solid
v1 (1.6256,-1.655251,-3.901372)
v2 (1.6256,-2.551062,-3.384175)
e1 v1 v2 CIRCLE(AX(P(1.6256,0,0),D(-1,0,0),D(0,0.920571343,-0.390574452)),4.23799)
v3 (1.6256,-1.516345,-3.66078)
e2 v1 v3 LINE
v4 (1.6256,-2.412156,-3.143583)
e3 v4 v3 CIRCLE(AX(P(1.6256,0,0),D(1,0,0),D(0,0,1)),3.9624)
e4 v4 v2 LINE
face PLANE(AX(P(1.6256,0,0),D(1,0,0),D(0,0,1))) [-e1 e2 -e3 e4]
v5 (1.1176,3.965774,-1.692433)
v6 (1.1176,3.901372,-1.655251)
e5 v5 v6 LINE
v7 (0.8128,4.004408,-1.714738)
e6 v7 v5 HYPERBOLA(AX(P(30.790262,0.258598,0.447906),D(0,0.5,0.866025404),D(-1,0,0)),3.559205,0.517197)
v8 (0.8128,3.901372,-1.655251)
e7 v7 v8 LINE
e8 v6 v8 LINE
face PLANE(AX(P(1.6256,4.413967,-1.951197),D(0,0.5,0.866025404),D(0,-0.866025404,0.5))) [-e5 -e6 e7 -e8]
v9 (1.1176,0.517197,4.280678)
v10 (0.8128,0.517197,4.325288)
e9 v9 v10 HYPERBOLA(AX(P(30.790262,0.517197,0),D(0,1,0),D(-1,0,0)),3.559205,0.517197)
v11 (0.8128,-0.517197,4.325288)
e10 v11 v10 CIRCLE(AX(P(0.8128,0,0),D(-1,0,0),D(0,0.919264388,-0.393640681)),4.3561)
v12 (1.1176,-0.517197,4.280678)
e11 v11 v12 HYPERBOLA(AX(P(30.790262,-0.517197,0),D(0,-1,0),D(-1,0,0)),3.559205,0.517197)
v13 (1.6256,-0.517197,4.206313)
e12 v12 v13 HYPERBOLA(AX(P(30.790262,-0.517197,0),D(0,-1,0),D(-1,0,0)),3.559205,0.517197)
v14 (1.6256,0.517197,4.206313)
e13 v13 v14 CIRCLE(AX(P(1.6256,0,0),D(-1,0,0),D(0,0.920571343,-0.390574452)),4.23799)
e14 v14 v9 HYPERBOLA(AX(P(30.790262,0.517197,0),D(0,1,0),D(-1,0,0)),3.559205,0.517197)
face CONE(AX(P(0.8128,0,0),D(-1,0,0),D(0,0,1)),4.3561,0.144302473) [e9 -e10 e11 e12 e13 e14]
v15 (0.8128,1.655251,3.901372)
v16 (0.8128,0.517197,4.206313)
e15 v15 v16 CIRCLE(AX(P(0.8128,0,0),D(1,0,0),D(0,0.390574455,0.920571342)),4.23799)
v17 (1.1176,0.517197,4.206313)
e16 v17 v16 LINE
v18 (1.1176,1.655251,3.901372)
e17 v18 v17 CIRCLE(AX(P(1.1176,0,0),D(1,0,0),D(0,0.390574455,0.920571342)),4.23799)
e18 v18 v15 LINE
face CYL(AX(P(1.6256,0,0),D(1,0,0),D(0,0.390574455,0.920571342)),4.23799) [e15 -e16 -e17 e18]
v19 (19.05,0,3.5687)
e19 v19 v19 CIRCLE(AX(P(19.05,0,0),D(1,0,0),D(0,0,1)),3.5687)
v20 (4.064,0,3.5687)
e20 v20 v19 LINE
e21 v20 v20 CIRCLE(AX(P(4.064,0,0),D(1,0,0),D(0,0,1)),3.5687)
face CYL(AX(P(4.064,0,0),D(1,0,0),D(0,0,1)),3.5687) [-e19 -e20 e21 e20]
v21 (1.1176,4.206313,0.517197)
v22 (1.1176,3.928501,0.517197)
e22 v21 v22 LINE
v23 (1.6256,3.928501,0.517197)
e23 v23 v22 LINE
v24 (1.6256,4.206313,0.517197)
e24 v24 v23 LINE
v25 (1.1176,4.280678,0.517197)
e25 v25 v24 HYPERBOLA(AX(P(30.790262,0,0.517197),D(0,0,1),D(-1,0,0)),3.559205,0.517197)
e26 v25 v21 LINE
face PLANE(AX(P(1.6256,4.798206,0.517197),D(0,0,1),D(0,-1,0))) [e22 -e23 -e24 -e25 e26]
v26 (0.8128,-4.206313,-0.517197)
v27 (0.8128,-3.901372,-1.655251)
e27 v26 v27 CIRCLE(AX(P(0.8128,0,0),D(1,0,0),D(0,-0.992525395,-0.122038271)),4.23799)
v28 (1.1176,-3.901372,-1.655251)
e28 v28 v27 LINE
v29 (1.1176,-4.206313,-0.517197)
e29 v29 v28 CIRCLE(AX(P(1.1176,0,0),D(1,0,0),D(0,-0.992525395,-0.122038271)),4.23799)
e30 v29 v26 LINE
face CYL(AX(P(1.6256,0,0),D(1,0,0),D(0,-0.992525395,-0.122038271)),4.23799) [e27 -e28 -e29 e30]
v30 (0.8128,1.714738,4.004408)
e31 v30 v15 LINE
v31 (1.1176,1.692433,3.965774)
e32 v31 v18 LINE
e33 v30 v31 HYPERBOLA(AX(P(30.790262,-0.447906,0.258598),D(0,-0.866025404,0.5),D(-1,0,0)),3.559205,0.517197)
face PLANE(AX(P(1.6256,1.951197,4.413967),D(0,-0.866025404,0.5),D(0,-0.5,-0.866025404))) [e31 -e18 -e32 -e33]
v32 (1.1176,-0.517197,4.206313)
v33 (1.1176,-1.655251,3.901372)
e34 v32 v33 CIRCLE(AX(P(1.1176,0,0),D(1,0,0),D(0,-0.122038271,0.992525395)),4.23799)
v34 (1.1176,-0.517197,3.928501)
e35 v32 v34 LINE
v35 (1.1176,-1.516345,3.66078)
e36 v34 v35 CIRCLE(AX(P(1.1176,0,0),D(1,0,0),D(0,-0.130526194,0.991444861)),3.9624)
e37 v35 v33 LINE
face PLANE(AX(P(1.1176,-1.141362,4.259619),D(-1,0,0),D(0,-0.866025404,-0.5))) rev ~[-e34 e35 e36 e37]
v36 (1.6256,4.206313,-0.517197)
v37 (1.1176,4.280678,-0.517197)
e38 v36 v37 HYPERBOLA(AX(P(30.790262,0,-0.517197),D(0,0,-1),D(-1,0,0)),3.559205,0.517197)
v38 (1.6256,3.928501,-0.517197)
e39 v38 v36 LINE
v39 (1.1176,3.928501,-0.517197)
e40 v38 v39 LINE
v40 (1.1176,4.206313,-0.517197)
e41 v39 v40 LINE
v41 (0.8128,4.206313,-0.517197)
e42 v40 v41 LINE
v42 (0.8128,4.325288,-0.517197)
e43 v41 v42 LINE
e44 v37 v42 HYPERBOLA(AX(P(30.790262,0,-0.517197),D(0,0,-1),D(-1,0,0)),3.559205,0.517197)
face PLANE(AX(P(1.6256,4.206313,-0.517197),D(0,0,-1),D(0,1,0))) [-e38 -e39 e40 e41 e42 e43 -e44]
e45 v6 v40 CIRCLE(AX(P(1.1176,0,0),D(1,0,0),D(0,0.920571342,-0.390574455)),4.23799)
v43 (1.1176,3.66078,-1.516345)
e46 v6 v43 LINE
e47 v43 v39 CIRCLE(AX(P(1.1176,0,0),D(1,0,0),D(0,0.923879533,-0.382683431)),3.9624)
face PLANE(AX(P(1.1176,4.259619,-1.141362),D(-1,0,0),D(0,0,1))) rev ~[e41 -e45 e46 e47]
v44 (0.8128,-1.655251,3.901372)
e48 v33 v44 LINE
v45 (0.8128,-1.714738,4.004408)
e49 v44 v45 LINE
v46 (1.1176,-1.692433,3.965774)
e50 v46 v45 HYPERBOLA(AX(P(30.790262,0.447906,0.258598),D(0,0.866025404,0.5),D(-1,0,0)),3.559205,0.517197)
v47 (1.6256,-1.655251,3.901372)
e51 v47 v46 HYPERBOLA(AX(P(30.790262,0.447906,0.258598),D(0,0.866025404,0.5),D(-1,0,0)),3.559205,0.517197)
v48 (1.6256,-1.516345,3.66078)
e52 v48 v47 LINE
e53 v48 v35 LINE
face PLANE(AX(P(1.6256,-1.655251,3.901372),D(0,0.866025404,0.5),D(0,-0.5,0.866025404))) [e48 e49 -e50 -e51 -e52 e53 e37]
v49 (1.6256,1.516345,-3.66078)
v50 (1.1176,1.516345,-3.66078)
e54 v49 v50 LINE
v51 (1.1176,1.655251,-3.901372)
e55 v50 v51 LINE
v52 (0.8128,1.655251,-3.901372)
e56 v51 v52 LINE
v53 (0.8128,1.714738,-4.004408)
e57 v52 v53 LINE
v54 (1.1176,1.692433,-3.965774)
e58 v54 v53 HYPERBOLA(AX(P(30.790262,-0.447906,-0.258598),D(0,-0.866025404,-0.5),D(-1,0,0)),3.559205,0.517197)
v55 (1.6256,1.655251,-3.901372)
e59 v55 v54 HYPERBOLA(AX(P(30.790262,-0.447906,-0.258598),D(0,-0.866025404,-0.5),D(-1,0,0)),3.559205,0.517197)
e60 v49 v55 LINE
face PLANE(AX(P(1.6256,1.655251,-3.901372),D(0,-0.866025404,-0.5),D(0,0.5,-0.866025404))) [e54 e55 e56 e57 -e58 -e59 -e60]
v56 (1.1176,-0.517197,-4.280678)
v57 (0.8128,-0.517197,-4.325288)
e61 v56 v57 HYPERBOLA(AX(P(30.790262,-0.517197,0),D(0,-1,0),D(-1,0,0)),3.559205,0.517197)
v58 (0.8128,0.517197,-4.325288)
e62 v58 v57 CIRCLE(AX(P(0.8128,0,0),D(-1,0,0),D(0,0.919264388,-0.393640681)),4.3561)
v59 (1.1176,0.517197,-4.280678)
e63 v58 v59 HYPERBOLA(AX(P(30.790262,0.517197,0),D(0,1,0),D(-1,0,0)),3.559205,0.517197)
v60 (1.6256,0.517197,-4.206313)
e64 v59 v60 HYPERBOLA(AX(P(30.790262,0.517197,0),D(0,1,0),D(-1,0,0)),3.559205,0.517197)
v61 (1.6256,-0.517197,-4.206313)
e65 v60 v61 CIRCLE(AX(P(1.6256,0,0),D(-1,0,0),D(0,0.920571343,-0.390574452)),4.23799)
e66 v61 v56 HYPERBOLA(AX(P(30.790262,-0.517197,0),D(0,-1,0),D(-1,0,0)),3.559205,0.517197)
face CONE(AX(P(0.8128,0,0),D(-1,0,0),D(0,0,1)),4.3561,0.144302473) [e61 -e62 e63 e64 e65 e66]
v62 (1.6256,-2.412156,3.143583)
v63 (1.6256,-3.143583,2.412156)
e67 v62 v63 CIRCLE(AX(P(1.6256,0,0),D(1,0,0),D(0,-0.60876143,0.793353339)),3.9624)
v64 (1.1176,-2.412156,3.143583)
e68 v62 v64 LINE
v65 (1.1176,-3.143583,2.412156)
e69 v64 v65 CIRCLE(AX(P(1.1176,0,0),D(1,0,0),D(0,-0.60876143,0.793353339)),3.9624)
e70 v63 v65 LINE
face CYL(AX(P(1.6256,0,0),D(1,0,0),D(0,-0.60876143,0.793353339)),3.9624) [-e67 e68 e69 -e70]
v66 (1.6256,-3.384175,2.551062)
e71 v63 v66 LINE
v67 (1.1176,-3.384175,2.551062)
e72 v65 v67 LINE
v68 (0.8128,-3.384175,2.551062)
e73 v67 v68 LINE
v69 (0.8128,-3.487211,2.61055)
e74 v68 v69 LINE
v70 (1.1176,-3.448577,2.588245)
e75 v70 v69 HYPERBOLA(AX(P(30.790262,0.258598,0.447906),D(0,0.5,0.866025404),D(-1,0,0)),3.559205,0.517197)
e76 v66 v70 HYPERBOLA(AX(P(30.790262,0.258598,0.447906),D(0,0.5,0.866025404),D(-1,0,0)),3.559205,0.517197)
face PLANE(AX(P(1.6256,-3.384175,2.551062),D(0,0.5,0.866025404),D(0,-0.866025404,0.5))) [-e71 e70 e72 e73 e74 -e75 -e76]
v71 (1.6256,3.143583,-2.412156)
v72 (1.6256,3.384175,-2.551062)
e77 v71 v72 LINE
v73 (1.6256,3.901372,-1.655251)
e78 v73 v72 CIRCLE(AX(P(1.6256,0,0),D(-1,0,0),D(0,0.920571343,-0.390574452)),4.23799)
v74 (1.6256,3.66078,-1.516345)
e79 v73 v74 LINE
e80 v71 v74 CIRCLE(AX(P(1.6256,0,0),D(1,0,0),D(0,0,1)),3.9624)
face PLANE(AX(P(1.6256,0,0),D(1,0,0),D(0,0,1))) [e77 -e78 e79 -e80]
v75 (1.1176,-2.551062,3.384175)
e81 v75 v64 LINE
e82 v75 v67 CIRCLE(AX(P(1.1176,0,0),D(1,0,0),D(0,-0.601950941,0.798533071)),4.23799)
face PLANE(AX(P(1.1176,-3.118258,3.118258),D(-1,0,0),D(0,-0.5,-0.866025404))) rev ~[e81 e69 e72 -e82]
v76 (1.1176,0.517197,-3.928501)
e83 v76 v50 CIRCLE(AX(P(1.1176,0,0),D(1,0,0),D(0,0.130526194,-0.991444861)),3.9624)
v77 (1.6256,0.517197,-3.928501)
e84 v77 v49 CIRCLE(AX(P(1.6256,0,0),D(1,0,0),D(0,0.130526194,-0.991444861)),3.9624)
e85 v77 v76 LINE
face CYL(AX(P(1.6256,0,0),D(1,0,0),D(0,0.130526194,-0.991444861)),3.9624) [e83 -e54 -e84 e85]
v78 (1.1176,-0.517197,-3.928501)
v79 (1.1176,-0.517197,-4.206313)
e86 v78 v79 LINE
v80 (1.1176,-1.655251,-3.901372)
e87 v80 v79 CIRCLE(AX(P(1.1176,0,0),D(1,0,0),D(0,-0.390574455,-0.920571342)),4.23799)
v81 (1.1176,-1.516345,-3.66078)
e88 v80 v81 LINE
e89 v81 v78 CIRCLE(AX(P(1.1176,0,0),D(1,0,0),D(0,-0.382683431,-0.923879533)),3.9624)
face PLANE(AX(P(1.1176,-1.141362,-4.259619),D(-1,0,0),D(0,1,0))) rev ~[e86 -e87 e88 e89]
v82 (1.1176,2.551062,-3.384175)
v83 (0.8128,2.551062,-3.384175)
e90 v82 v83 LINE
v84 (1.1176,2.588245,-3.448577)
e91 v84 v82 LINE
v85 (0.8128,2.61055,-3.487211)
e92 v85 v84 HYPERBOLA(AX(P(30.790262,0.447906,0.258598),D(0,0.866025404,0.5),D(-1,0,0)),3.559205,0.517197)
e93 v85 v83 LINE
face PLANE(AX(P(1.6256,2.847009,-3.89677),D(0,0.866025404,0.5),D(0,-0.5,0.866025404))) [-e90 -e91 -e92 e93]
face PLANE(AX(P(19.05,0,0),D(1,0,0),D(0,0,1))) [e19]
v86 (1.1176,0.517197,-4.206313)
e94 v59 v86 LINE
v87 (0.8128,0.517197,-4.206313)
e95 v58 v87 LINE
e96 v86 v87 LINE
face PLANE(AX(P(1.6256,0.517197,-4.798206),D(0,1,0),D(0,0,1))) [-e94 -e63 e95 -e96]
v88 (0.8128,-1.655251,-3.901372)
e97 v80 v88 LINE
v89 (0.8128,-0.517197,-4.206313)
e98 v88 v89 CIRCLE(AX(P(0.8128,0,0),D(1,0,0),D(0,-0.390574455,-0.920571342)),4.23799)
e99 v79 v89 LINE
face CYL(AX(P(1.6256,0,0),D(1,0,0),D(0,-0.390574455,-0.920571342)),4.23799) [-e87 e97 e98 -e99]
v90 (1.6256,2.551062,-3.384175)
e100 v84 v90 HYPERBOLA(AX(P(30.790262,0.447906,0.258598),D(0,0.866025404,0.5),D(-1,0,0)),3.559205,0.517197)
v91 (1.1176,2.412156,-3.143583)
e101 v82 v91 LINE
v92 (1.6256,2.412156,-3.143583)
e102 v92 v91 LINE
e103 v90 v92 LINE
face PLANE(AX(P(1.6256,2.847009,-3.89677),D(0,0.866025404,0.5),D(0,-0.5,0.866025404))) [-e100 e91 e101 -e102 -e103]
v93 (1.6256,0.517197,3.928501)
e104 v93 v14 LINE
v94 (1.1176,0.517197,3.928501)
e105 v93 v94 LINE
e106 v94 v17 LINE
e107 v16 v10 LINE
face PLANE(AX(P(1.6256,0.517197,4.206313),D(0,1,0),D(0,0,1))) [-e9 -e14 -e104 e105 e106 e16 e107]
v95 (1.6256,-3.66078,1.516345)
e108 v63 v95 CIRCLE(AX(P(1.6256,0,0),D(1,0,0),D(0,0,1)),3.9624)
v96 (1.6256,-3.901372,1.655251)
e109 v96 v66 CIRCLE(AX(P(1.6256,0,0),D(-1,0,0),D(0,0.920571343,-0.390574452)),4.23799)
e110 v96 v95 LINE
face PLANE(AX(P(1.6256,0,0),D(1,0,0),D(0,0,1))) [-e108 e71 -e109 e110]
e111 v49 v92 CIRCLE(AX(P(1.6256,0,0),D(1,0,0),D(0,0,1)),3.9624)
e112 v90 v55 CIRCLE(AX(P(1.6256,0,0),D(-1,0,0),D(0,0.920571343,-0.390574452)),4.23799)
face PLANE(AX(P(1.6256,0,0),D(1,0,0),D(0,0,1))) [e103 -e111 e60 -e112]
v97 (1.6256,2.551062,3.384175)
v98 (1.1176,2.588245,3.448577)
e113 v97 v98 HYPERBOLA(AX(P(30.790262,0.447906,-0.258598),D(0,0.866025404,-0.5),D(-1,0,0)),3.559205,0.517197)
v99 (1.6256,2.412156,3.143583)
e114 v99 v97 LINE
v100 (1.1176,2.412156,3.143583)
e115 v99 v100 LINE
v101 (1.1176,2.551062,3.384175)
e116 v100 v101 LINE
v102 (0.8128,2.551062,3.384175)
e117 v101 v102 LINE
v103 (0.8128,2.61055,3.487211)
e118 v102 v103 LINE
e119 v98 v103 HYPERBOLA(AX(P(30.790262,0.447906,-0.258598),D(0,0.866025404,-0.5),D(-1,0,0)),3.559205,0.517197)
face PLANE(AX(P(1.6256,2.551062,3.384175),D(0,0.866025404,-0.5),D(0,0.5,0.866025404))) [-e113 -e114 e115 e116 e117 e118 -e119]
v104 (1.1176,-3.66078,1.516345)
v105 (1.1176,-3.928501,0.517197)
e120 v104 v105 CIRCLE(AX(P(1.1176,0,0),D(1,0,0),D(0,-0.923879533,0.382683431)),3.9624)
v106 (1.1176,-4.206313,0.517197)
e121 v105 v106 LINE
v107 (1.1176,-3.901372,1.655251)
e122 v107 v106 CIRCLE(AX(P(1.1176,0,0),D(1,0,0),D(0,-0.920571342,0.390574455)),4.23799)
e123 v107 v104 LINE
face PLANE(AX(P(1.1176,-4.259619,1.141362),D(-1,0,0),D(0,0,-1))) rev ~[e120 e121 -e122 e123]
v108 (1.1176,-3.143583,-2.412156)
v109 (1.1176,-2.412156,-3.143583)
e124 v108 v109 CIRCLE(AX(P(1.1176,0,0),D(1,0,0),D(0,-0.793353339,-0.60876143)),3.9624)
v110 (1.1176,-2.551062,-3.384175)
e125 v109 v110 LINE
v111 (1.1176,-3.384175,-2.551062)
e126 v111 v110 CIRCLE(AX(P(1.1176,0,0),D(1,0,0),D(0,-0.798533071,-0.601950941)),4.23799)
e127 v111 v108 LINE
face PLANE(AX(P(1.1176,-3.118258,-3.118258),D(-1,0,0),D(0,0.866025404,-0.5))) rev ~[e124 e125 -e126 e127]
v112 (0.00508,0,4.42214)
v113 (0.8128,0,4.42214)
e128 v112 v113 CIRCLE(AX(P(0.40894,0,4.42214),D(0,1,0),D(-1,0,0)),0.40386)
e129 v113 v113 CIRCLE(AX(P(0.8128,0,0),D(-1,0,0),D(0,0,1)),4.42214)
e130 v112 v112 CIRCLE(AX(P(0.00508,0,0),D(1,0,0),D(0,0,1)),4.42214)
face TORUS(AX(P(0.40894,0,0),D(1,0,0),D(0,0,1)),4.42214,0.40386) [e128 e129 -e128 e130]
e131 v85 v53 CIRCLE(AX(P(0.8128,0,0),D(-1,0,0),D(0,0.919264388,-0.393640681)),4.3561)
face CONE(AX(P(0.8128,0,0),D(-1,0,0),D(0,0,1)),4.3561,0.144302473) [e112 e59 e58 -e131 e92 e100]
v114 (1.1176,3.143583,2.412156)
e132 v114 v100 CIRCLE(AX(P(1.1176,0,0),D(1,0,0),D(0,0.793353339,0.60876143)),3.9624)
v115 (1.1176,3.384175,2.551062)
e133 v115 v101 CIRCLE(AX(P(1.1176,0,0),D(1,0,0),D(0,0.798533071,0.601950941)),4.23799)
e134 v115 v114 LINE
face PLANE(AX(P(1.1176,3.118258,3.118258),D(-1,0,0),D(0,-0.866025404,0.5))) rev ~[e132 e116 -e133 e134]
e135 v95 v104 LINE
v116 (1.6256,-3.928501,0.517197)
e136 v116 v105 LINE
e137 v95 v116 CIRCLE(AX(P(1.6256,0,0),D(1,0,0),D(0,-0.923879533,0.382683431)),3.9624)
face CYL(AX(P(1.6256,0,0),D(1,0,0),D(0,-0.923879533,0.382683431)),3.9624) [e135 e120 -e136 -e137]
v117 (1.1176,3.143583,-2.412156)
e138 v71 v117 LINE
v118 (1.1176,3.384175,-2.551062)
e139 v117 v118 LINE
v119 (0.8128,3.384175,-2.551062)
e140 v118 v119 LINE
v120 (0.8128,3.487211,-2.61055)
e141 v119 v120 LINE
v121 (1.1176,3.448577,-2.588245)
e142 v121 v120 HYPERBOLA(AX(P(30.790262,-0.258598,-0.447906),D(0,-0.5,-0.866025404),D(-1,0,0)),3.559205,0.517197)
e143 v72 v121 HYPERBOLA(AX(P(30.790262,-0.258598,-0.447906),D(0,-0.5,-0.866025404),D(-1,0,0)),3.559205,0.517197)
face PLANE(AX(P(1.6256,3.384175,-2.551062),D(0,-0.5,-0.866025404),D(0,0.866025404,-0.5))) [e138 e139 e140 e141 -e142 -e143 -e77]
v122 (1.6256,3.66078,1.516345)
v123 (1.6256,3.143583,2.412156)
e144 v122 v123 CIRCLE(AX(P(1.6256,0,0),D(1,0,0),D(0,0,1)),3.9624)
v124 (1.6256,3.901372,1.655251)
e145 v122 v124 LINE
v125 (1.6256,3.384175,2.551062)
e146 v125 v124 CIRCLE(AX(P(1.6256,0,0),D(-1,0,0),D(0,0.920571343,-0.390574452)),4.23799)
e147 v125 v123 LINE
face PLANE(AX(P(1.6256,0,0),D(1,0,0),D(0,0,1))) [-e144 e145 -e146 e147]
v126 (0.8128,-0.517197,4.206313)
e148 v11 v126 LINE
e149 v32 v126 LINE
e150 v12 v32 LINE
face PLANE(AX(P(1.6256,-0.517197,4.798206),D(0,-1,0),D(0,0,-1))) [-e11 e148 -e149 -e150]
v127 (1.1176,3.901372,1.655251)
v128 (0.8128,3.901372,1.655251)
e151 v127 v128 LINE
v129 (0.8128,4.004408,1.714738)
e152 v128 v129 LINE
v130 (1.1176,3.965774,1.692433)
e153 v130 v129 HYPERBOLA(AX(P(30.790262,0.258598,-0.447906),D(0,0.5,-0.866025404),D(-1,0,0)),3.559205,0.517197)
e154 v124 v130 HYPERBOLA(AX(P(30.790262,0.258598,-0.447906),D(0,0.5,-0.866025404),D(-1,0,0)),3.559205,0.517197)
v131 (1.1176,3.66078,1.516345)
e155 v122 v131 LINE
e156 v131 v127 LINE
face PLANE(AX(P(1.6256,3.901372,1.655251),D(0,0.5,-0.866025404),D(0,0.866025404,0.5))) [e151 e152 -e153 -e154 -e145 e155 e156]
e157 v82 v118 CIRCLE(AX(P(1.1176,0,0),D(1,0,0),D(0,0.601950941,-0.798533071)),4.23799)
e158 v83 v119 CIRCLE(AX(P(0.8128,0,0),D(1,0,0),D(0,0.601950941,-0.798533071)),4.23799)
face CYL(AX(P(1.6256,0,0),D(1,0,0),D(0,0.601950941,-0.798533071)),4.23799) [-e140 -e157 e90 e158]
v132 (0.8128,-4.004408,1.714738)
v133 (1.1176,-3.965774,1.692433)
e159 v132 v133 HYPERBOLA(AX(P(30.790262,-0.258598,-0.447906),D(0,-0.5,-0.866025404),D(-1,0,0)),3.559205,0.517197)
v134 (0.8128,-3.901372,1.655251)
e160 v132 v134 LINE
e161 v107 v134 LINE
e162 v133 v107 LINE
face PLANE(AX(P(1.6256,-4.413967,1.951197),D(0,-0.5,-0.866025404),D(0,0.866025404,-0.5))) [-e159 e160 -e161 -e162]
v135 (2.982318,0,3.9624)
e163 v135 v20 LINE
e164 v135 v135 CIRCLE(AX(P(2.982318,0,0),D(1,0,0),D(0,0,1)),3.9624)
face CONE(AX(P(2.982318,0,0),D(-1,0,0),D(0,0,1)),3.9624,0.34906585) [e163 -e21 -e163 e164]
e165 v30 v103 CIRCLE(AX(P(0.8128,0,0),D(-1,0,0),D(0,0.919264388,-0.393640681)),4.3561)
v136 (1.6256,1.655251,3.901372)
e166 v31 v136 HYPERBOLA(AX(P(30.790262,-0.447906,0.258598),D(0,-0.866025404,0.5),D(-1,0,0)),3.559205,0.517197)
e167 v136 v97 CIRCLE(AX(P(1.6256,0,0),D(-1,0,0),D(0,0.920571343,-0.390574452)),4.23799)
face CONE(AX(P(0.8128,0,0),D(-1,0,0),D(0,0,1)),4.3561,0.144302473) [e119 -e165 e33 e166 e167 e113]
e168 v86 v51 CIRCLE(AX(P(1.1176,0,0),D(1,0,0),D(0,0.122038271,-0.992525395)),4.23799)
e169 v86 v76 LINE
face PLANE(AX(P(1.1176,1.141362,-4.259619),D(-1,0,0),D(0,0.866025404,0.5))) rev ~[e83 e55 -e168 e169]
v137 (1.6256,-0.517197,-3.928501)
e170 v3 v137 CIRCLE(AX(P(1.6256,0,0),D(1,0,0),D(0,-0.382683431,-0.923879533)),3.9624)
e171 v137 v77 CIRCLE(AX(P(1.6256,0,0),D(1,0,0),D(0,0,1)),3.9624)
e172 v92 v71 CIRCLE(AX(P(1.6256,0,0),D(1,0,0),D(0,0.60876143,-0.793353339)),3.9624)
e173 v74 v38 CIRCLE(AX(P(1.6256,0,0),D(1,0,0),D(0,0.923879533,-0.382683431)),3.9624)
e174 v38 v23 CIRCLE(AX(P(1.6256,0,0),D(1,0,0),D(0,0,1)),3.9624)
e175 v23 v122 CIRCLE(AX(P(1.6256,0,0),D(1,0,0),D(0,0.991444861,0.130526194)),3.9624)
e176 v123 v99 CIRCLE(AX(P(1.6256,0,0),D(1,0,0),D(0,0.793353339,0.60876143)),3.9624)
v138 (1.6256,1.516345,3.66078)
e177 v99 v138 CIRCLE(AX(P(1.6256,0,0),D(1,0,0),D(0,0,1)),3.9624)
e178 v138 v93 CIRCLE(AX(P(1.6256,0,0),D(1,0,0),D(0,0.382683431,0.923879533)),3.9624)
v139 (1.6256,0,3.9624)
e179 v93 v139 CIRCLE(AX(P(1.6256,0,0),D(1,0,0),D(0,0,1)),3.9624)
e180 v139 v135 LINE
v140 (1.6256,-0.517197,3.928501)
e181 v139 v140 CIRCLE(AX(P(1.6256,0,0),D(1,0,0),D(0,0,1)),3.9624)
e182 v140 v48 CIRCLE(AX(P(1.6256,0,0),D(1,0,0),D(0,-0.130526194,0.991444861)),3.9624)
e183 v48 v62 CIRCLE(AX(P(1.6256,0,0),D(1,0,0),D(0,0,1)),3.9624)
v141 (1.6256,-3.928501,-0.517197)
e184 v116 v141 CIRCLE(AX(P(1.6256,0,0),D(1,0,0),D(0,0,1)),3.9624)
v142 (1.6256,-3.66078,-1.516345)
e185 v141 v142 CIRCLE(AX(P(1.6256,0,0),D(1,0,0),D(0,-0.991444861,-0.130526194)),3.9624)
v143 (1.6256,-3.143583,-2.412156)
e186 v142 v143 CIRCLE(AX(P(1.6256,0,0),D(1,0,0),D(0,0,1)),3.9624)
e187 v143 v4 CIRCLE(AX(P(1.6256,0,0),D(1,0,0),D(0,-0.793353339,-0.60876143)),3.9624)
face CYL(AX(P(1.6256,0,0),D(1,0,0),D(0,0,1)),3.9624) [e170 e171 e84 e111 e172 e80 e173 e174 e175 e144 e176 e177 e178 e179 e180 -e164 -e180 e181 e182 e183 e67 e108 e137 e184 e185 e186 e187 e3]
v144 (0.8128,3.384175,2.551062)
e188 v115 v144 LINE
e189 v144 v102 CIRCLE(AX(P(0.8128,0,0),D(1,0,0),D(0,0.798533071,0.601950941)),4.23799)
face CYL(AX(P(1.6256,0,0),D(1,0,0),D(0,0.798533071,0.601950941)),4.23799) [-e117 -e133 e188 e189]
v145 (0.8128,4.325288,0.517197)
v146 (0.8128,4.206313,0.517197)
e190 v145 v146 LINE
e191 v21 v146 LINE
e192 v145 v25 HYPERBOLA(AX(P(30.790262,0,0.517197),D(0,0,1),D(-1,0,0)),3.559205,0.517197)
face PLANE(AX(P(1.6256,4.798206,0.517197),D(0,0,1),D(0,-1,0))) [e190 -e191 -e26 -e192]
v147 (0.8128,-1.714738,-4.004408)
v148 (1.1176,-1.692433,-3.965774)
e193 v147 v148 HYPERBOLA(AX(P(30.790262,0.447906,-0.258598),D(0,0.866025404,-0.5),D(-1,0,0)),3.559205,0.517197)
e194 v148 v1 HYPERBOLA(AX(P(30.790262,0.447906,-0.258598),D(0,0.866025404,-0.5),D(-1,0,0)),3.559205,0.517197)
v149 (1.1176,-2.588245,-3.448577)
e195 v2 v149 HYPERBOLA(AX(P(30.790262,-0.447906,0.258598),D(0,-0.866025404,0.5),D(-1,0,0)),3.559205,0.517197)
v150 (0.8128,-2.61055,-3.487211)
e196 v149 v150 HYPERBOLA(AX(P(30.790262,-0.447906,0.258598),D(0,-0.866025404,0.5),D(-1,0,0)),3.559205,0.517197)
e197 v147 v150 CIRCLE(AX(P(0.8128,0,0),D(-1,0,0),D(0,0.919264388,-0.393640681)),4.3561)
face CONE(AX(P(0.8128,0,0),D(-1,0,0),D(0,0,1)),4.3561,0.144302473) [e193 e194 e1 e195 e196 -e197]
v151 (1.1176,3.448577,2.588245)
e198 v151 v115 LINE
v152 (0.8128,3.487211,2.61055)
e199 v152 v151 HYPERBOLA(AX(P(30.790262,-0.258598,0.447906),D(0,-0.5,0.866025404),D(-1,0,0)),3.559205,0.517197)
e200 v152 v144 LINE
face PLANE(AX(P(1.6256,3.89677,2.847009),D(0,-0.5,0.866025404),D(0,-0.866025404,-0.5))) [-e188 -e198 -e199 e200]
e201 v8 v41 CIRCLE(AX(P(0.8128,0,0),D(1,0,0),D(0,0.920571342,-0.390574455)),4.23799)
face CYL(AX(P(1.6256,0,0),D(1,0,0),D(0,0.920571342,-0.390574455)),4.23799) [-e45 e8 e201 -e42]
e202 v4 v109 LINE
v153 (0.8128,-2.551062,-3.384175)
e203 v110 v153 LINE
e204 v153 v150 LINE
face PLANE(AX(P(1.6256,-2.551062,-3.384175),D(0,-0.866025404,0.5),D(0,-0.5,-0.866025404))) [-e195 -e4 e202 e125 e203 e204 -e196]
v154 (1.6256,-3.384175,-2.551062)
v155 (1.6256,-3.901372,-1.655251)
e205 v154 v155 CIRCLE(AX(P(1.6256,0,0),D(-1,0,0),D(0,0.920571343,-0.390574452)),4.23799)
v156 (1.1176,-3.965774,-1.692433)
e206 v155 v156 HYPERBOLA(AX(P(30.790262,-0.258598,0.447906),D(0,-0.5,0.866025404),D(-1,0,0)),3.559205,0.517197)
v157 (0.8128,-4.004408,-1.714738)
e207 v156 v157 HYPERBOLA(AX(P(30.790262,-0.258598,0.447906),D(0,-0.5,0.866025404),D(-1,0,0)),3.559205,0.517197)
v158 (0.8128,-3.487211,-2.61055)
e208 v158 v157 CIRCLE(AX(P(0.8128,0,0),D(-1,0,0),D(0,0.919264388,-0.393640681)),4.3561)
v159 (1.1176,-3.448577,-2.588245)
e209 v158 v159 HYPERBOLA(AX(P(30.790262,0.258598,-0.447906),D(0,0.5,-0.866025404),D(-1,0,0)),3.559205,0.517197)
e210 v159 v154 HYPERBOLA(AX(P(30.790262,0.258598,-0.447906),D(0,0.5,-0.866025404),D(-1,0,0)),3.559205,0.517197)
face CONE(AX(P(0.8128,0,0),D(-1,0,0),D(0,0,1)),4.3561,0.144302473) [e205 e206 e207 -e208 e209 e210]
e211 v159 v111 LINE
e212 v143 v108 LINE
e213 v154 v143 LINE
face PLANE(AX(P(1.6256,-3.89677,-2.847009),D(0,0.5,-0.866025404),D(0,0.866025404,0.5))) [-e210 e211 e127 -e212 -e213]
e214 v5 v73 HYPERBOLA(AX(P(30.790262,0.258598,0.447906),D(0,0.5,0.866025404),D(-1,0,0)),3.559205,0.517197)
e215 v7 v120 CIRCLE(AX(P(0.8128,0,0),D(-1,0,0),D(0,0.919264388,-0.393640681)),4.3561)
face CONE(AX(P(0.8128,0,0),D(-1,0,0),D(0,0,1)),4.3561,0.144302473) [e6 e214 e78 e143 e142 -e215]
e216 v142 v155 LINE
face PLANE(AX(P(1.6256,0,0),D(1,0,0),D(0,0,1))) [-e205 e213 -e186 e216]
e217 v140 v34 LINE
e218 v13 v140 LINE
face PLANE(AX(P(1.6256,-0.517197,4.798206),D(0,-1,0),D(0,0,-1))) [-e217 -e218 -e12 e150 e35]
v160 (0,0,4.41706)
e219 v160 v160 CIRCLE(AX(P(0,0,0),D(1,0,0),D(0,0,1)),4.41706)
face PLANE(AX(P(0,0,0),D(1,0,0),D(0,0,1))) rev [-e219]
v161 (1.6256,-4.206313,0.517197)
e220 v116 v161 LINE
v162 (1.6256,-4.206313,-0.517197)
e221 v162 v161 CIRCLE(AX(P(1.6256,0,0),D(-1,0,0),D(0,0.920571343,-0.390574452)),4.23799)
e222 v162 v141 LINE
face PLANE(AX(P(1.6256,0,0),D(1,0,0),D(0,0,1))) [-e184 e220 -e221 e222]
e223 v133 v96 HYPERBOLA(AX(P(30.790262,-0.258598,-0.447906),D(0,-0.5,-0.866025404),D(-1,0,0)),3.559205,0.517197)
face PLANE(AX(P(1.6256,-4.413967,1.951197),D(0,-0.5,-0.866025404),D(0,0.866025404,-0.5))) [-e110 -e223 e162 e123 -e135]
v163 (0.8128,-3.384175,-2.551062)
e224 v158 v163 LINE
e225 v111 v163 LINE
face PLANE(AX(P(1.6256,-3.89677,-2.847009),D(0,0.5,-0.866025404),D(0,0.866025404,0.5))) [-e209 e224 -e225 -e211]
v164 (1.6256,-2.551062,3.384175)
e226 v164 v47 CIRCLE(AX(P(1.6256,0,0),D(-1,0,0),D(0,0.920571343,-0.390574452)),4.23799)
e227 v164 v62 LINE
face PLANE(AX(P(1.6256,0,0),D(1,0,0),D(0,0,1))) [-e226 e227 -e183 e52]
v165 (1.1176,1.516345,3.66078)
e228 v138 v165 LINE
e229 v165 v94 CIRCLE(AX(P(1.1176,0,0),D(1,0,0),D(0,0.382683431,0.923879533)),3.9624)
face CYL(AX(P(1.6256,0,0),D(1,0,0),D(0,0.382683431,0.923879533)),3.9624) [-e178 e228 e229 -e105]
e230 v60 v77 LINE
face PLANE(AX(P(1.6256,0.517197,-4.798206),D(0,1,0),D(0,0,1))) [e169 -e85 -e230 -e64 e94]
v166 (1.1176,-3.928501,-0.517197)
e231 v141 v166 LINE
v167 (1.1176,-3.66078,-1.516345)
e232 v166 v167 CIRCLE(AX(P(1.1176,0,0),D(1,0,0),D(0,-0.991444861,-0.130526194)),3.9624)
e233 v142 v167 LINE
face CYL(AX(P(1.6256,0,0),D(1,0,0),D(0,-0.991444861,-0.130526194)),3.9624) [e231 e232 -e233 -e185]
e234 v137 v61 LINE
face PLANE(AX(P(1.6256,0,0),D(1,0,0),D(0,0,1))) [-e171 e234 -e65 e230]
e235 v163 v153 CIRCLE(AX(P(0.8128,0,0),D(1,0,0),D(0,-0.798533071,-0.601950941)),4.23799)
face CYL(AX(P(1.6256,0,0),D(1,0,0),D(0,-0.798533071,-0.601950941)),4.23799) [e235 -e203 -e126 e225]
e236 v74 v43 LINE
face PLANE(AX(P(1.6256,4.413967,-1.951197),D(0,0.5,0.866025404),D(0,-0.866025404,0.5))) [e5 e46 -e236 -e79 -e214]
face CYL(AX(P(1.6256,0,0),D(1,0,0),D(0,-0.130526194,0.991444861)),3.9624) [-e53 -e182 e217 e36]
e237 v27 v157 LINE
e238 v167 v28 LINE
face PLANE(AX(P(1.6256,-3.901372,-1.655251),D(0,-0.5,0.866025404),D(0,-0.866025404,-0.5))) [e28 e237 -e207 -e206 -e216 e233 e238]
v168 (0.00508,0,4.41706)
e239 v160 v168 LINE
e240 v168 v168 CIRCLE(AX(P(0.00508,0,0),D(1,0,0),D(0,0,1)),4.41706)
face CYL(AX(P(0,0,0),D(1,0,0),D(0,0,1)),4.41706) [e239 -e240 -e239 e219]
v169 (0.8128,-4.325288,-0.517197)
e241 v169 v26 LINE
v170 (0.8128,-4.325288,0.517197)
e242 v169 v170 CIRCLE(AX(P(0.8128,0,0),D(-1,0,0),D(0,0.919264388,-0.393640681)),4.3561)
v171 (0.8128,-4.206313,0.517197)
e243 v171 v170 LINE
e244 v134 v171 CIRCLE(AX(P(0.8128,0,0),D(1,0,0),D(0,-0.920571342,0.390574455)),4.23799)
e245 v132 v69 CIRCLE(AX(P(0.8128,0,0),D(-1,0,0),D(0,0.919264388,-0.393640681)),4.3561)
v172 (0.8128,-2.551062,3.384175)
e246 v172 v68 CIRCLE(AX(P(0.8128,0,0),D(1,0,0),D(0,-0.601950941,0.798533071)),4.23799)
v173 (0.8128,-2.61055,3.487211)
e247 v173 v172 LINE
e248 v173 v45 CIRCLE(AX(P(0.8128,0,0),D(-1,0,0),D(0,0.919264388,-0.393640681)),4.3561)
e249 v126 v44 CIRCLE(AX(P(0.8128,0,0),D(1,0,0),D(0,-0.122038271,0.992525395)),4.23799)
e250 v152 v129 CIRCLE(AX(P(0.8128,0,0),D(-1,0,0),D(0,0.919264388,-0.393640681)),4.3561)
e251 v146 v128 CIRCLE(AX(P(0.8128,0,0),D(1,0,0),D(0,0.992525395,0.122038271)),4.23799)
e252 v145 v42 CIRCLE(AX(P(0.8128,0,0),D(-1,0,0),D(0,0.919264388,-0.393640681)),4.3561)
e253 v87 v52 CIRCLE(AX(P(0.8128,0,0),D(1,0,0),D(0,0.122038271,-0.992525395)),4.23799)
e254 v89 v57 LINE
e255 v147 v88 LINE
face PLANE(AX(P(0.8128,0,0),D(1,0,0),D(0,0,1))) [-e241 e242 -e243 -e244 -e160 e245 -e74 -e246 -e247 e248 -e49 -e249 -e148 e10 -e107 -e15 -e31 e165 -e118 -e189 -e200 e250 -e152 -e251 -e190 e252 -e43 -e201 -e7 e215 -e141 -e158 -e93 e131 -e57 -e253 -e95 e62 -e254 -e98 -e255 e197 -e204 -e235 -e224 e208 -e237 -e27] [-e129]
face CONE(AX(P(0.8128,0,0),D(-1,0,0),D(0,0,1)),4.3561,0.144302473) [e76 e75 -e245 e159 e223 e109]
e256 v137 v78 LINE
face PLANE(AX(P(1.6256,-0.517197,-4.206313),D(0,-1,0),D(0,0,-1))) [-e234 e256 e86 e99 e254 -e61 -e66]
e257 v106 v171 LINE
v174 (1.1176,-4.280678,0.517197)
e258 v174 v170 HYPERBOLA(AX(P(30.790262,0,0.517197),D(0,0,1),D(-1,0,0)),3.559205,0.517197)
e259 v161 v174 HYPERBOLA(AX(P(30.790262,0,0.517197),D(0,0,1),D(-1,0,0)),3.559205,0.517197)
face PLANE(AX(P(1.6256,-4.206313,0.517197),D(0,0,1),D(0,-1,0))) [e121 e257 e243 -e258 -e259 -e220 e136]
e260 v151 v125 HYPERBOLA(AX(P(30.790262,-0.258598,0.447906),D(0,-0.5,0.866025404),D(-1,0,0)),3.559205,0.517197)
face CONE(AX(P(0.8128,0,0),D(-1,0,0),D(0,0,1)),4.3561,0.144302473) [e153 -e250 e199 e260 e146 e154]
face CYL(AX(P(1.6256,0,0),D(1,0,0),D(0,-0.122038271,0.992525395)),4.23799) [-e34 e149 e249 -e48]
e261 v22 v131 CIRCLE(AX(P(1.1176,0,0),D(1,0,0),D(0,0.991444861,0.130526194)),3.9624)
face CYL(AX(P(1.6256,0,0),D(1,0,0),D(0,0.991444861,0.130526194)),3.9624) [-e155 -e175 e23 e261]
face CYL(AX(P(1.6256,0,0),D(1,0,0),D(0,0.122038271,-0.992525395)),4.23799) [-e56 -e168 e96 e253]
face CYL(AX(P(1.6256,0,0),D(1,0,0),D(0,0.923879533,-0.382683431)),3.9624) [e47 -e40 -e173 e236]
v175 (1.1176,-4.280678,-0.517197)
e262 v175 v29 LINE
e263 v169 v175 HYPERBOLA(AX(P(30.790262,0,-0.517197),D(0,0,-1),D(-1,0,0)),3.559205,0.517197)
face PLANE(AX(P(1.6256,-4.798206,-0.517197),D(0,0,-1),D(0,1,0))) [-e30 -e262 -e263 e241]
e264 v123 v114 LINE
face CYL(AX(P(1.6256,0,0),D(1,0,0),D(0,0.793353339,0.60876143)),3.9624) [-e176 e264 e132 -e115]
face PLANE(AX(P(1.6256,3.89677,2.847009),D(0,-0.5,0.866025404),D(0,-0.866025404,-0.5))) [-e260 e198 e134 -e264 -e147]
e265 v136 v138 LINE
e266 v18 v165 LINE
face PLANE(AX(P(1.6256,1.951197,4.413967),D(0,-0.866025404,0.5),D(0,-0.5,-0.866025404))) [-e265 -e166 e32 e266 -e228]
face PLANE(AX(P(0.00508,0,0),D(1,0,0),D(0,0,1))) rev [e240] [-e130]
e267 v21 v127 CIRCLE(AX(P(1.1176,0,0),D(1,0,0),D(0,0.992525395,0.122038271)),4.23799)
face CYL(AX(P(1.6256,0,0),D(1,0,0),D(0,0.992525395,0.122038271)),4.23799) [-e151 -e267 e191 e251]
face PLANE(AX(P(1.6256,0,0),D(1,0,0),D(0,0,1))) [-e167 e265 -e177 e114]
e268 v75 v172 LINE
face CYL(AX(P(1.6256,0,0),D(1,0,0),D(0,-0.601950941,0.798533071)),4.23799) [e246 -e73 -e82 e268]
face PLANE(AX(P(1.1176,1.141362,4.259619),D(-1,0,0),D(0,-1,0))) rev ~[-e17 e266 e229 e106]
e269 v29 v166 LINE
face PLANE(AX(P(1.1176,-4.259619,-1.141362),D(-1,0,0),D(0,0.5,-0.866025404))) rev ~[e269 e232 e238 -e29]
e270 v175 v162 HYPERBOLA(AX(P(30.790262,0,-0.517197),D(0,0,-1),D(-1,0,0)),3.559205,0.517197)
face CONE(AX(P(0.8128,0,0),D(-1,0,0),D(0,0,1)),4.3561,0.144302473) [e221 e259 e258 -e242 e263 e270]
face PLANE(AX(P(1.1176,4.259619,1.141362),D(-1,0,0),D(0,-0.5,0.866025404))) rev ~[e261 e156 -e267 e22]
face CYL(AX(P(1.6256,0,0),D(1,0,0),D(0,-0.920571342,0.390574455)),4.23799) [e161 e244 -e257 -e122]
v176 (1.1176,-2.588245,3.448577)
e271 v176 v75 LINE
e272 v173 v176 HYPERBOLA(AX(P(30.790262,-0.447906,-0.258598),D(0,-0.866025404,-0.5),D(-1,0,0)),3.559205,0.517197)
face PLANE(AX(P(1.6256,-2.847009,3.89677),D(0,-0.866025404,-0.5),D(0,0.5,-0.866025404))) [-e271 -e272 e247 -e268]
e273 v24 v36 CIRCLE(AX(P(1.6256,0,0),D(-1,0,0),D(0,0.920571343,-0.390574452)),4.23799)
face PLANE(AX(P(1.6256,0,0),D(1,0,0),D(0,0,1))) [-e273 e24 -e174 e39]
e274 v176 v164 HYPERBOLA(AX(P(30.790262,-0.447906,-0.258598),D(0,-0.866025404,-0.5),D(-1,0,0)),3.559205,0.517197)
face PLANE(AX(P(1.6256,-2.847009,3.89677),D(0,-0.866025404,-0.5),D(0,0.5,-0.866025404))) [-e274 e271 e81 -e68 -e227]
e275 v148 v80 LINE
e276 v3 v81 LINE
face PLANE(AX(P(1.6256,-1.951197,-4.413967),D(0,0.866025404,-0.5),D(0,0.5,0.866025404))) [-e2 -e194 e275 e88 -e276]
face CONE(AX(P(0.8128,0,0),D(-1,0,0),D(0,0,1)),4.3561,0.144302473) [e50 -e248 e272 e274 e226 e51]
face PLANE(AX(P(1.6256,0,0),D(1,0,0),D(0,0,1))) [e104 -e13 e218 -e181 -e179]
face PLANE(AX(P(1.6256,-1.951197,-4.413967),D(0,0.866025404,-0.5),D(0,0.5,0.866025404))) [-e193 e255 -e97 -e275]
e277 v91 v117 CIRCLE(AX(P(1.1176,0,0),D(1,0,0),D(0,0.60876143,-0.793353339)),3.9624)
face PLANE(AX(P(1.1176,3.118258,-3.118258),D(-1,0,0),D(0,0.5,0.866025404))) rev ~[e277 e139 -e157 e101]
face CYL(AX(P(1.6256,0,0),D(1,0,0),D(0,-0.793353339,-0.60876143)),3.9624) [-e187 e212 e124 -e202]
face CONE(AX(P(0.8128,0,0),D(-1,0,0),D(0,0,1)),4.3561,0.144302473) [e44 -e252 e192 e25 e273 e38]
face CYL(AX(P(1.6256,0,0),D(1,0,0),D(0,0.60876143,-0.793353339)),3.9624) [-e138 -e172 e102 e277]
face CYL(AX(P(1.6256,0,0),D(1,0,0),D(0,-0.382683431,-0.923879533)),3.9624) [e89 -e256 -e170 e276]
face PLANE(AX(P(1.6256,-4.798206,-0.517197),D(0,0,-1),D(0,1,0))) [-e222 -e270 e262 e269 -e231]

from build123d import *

# Parameters (mm, degrees)
RIBCUT1_DEPTH    = 0.508
RIBCUT2_DEPTH    = 0.8128
RIBCUTSPAT_COUNT = 12
RIBCUTSPAT_ANGLE = 330


with BuildPart() as part:
    # BodySke → BaseBody (revolve)
    with BuildSketch(Plane.XY, mode=Mode.PRIVATE) as basebody_sk:
        with BuildLine():
            Line((0, 0), (0, 4.41706))
            Line((0, 4.41706), (0.00508, 4.41706))
            Line((0.00508, 4.41706), (0.00508, 4.42214))
            ThreePointArc((0.00508, 4.42214), (0.40894, 4.826), (0.8128, 4.42214))
            Line((0.8128, 4.42214), (0.8128, 4.3561))
            Line((0.8128, 4.3561), (1.6256, 4.23799))
            Line((1.6256, 4.23799), (1.6256, 3.9624))
            Line((1.6256, 3.9624), (2.98231814, 3.9624))
            Line((2.98231814, 3.9624), (4.064, 3.5687))
            Line((4.064, 3.5687), (19.05, 3.5687))
            Line((19.05, 3.5687), (19.05, 0))
            Line((19.05, 0), (0, 0))
        make_face()
    revolve(basebody_sk.sketch.rotate(Axis((0, 0, 0), (1, 0, 0)), 90), axis=Axis((0, 0, 0), (1, 0, 0)))

    # RibCut1Ske → RibCut1 (cut)
    with BuildSketch(Plane(origin=(1.6256, 0, 0), x_dir=(0, 0, -1), z_dir=(1, 0, 0))):
        with BuildLine():
            Line((0.517196984, 3.928501119), (0.517196984, 4.798206256))
            ThreePointArc((0.517196984, 4.798206256), (1.249060712, 4.661558038), (1.951197401, 4.413967003))
            Line((1.951197401, 4.413967003), (1.516344832, 3.66078026))
            ThreePointArc((1.516344832, 3.66078026), (1.025544584, 3.827384494), (0.517196984, 3.928501119))
        make_face()
    ribcut1 = extrude(amount=-RIBCUT1_DEPTH, mode=Mode.SUBTRACT)

    # RibCut2Ske → RibCut2 (cut)
    with BuildSketch(Plane(origin=(1.6256, 0, 0), x_dir=(0, 0, -1), z_dir=(1, 0, 0))):
        with BuildLine():
            Line((0.517196984, 4.206312699), (0.517196984, 4.798206256))
            ThreePointArc((0.517196984, 4.798206256), (1.249060712, 4.661558038), (1.951197401, 4.413967003))
            Line((1.951197401, 4.413967003), (1.655250622, 3.901372145))
            ThreePointArc((1.655250622, 3.901372145), (1.096872525, 4.093583993), (0.517196984, 4.206312699))
        make_face()
    ribcut2 = extrude(amount=-RIBCUT2_DEPTH, mode=Mode.SUBTRACT)

    # RibCutsPat: RibCut1, RibCut2 ×12 about axis
    ribcutspat_axis = Axis((0, 0, 0), (1, 0, 0))
    add([ribcut1.rotate(ribcutspat_axis, i * RIBCUTSPAT_ANGLE / (RIBCUTSPAT_COUNT - 1)) for i in range(1, RIBCUTSPAT_COUNT)], mode=Mode.SUBTRACT)
    add([ribcut2.rotate(ribcutspat_axis, i * RIBCUTSPAT_ANGLE / (RIBCUTSPAT_COUNT - 1)) for i in range(1, RIBCUTSPAT_COUNT)], mode=Mode.SUBTRACT)


solid = part.part
